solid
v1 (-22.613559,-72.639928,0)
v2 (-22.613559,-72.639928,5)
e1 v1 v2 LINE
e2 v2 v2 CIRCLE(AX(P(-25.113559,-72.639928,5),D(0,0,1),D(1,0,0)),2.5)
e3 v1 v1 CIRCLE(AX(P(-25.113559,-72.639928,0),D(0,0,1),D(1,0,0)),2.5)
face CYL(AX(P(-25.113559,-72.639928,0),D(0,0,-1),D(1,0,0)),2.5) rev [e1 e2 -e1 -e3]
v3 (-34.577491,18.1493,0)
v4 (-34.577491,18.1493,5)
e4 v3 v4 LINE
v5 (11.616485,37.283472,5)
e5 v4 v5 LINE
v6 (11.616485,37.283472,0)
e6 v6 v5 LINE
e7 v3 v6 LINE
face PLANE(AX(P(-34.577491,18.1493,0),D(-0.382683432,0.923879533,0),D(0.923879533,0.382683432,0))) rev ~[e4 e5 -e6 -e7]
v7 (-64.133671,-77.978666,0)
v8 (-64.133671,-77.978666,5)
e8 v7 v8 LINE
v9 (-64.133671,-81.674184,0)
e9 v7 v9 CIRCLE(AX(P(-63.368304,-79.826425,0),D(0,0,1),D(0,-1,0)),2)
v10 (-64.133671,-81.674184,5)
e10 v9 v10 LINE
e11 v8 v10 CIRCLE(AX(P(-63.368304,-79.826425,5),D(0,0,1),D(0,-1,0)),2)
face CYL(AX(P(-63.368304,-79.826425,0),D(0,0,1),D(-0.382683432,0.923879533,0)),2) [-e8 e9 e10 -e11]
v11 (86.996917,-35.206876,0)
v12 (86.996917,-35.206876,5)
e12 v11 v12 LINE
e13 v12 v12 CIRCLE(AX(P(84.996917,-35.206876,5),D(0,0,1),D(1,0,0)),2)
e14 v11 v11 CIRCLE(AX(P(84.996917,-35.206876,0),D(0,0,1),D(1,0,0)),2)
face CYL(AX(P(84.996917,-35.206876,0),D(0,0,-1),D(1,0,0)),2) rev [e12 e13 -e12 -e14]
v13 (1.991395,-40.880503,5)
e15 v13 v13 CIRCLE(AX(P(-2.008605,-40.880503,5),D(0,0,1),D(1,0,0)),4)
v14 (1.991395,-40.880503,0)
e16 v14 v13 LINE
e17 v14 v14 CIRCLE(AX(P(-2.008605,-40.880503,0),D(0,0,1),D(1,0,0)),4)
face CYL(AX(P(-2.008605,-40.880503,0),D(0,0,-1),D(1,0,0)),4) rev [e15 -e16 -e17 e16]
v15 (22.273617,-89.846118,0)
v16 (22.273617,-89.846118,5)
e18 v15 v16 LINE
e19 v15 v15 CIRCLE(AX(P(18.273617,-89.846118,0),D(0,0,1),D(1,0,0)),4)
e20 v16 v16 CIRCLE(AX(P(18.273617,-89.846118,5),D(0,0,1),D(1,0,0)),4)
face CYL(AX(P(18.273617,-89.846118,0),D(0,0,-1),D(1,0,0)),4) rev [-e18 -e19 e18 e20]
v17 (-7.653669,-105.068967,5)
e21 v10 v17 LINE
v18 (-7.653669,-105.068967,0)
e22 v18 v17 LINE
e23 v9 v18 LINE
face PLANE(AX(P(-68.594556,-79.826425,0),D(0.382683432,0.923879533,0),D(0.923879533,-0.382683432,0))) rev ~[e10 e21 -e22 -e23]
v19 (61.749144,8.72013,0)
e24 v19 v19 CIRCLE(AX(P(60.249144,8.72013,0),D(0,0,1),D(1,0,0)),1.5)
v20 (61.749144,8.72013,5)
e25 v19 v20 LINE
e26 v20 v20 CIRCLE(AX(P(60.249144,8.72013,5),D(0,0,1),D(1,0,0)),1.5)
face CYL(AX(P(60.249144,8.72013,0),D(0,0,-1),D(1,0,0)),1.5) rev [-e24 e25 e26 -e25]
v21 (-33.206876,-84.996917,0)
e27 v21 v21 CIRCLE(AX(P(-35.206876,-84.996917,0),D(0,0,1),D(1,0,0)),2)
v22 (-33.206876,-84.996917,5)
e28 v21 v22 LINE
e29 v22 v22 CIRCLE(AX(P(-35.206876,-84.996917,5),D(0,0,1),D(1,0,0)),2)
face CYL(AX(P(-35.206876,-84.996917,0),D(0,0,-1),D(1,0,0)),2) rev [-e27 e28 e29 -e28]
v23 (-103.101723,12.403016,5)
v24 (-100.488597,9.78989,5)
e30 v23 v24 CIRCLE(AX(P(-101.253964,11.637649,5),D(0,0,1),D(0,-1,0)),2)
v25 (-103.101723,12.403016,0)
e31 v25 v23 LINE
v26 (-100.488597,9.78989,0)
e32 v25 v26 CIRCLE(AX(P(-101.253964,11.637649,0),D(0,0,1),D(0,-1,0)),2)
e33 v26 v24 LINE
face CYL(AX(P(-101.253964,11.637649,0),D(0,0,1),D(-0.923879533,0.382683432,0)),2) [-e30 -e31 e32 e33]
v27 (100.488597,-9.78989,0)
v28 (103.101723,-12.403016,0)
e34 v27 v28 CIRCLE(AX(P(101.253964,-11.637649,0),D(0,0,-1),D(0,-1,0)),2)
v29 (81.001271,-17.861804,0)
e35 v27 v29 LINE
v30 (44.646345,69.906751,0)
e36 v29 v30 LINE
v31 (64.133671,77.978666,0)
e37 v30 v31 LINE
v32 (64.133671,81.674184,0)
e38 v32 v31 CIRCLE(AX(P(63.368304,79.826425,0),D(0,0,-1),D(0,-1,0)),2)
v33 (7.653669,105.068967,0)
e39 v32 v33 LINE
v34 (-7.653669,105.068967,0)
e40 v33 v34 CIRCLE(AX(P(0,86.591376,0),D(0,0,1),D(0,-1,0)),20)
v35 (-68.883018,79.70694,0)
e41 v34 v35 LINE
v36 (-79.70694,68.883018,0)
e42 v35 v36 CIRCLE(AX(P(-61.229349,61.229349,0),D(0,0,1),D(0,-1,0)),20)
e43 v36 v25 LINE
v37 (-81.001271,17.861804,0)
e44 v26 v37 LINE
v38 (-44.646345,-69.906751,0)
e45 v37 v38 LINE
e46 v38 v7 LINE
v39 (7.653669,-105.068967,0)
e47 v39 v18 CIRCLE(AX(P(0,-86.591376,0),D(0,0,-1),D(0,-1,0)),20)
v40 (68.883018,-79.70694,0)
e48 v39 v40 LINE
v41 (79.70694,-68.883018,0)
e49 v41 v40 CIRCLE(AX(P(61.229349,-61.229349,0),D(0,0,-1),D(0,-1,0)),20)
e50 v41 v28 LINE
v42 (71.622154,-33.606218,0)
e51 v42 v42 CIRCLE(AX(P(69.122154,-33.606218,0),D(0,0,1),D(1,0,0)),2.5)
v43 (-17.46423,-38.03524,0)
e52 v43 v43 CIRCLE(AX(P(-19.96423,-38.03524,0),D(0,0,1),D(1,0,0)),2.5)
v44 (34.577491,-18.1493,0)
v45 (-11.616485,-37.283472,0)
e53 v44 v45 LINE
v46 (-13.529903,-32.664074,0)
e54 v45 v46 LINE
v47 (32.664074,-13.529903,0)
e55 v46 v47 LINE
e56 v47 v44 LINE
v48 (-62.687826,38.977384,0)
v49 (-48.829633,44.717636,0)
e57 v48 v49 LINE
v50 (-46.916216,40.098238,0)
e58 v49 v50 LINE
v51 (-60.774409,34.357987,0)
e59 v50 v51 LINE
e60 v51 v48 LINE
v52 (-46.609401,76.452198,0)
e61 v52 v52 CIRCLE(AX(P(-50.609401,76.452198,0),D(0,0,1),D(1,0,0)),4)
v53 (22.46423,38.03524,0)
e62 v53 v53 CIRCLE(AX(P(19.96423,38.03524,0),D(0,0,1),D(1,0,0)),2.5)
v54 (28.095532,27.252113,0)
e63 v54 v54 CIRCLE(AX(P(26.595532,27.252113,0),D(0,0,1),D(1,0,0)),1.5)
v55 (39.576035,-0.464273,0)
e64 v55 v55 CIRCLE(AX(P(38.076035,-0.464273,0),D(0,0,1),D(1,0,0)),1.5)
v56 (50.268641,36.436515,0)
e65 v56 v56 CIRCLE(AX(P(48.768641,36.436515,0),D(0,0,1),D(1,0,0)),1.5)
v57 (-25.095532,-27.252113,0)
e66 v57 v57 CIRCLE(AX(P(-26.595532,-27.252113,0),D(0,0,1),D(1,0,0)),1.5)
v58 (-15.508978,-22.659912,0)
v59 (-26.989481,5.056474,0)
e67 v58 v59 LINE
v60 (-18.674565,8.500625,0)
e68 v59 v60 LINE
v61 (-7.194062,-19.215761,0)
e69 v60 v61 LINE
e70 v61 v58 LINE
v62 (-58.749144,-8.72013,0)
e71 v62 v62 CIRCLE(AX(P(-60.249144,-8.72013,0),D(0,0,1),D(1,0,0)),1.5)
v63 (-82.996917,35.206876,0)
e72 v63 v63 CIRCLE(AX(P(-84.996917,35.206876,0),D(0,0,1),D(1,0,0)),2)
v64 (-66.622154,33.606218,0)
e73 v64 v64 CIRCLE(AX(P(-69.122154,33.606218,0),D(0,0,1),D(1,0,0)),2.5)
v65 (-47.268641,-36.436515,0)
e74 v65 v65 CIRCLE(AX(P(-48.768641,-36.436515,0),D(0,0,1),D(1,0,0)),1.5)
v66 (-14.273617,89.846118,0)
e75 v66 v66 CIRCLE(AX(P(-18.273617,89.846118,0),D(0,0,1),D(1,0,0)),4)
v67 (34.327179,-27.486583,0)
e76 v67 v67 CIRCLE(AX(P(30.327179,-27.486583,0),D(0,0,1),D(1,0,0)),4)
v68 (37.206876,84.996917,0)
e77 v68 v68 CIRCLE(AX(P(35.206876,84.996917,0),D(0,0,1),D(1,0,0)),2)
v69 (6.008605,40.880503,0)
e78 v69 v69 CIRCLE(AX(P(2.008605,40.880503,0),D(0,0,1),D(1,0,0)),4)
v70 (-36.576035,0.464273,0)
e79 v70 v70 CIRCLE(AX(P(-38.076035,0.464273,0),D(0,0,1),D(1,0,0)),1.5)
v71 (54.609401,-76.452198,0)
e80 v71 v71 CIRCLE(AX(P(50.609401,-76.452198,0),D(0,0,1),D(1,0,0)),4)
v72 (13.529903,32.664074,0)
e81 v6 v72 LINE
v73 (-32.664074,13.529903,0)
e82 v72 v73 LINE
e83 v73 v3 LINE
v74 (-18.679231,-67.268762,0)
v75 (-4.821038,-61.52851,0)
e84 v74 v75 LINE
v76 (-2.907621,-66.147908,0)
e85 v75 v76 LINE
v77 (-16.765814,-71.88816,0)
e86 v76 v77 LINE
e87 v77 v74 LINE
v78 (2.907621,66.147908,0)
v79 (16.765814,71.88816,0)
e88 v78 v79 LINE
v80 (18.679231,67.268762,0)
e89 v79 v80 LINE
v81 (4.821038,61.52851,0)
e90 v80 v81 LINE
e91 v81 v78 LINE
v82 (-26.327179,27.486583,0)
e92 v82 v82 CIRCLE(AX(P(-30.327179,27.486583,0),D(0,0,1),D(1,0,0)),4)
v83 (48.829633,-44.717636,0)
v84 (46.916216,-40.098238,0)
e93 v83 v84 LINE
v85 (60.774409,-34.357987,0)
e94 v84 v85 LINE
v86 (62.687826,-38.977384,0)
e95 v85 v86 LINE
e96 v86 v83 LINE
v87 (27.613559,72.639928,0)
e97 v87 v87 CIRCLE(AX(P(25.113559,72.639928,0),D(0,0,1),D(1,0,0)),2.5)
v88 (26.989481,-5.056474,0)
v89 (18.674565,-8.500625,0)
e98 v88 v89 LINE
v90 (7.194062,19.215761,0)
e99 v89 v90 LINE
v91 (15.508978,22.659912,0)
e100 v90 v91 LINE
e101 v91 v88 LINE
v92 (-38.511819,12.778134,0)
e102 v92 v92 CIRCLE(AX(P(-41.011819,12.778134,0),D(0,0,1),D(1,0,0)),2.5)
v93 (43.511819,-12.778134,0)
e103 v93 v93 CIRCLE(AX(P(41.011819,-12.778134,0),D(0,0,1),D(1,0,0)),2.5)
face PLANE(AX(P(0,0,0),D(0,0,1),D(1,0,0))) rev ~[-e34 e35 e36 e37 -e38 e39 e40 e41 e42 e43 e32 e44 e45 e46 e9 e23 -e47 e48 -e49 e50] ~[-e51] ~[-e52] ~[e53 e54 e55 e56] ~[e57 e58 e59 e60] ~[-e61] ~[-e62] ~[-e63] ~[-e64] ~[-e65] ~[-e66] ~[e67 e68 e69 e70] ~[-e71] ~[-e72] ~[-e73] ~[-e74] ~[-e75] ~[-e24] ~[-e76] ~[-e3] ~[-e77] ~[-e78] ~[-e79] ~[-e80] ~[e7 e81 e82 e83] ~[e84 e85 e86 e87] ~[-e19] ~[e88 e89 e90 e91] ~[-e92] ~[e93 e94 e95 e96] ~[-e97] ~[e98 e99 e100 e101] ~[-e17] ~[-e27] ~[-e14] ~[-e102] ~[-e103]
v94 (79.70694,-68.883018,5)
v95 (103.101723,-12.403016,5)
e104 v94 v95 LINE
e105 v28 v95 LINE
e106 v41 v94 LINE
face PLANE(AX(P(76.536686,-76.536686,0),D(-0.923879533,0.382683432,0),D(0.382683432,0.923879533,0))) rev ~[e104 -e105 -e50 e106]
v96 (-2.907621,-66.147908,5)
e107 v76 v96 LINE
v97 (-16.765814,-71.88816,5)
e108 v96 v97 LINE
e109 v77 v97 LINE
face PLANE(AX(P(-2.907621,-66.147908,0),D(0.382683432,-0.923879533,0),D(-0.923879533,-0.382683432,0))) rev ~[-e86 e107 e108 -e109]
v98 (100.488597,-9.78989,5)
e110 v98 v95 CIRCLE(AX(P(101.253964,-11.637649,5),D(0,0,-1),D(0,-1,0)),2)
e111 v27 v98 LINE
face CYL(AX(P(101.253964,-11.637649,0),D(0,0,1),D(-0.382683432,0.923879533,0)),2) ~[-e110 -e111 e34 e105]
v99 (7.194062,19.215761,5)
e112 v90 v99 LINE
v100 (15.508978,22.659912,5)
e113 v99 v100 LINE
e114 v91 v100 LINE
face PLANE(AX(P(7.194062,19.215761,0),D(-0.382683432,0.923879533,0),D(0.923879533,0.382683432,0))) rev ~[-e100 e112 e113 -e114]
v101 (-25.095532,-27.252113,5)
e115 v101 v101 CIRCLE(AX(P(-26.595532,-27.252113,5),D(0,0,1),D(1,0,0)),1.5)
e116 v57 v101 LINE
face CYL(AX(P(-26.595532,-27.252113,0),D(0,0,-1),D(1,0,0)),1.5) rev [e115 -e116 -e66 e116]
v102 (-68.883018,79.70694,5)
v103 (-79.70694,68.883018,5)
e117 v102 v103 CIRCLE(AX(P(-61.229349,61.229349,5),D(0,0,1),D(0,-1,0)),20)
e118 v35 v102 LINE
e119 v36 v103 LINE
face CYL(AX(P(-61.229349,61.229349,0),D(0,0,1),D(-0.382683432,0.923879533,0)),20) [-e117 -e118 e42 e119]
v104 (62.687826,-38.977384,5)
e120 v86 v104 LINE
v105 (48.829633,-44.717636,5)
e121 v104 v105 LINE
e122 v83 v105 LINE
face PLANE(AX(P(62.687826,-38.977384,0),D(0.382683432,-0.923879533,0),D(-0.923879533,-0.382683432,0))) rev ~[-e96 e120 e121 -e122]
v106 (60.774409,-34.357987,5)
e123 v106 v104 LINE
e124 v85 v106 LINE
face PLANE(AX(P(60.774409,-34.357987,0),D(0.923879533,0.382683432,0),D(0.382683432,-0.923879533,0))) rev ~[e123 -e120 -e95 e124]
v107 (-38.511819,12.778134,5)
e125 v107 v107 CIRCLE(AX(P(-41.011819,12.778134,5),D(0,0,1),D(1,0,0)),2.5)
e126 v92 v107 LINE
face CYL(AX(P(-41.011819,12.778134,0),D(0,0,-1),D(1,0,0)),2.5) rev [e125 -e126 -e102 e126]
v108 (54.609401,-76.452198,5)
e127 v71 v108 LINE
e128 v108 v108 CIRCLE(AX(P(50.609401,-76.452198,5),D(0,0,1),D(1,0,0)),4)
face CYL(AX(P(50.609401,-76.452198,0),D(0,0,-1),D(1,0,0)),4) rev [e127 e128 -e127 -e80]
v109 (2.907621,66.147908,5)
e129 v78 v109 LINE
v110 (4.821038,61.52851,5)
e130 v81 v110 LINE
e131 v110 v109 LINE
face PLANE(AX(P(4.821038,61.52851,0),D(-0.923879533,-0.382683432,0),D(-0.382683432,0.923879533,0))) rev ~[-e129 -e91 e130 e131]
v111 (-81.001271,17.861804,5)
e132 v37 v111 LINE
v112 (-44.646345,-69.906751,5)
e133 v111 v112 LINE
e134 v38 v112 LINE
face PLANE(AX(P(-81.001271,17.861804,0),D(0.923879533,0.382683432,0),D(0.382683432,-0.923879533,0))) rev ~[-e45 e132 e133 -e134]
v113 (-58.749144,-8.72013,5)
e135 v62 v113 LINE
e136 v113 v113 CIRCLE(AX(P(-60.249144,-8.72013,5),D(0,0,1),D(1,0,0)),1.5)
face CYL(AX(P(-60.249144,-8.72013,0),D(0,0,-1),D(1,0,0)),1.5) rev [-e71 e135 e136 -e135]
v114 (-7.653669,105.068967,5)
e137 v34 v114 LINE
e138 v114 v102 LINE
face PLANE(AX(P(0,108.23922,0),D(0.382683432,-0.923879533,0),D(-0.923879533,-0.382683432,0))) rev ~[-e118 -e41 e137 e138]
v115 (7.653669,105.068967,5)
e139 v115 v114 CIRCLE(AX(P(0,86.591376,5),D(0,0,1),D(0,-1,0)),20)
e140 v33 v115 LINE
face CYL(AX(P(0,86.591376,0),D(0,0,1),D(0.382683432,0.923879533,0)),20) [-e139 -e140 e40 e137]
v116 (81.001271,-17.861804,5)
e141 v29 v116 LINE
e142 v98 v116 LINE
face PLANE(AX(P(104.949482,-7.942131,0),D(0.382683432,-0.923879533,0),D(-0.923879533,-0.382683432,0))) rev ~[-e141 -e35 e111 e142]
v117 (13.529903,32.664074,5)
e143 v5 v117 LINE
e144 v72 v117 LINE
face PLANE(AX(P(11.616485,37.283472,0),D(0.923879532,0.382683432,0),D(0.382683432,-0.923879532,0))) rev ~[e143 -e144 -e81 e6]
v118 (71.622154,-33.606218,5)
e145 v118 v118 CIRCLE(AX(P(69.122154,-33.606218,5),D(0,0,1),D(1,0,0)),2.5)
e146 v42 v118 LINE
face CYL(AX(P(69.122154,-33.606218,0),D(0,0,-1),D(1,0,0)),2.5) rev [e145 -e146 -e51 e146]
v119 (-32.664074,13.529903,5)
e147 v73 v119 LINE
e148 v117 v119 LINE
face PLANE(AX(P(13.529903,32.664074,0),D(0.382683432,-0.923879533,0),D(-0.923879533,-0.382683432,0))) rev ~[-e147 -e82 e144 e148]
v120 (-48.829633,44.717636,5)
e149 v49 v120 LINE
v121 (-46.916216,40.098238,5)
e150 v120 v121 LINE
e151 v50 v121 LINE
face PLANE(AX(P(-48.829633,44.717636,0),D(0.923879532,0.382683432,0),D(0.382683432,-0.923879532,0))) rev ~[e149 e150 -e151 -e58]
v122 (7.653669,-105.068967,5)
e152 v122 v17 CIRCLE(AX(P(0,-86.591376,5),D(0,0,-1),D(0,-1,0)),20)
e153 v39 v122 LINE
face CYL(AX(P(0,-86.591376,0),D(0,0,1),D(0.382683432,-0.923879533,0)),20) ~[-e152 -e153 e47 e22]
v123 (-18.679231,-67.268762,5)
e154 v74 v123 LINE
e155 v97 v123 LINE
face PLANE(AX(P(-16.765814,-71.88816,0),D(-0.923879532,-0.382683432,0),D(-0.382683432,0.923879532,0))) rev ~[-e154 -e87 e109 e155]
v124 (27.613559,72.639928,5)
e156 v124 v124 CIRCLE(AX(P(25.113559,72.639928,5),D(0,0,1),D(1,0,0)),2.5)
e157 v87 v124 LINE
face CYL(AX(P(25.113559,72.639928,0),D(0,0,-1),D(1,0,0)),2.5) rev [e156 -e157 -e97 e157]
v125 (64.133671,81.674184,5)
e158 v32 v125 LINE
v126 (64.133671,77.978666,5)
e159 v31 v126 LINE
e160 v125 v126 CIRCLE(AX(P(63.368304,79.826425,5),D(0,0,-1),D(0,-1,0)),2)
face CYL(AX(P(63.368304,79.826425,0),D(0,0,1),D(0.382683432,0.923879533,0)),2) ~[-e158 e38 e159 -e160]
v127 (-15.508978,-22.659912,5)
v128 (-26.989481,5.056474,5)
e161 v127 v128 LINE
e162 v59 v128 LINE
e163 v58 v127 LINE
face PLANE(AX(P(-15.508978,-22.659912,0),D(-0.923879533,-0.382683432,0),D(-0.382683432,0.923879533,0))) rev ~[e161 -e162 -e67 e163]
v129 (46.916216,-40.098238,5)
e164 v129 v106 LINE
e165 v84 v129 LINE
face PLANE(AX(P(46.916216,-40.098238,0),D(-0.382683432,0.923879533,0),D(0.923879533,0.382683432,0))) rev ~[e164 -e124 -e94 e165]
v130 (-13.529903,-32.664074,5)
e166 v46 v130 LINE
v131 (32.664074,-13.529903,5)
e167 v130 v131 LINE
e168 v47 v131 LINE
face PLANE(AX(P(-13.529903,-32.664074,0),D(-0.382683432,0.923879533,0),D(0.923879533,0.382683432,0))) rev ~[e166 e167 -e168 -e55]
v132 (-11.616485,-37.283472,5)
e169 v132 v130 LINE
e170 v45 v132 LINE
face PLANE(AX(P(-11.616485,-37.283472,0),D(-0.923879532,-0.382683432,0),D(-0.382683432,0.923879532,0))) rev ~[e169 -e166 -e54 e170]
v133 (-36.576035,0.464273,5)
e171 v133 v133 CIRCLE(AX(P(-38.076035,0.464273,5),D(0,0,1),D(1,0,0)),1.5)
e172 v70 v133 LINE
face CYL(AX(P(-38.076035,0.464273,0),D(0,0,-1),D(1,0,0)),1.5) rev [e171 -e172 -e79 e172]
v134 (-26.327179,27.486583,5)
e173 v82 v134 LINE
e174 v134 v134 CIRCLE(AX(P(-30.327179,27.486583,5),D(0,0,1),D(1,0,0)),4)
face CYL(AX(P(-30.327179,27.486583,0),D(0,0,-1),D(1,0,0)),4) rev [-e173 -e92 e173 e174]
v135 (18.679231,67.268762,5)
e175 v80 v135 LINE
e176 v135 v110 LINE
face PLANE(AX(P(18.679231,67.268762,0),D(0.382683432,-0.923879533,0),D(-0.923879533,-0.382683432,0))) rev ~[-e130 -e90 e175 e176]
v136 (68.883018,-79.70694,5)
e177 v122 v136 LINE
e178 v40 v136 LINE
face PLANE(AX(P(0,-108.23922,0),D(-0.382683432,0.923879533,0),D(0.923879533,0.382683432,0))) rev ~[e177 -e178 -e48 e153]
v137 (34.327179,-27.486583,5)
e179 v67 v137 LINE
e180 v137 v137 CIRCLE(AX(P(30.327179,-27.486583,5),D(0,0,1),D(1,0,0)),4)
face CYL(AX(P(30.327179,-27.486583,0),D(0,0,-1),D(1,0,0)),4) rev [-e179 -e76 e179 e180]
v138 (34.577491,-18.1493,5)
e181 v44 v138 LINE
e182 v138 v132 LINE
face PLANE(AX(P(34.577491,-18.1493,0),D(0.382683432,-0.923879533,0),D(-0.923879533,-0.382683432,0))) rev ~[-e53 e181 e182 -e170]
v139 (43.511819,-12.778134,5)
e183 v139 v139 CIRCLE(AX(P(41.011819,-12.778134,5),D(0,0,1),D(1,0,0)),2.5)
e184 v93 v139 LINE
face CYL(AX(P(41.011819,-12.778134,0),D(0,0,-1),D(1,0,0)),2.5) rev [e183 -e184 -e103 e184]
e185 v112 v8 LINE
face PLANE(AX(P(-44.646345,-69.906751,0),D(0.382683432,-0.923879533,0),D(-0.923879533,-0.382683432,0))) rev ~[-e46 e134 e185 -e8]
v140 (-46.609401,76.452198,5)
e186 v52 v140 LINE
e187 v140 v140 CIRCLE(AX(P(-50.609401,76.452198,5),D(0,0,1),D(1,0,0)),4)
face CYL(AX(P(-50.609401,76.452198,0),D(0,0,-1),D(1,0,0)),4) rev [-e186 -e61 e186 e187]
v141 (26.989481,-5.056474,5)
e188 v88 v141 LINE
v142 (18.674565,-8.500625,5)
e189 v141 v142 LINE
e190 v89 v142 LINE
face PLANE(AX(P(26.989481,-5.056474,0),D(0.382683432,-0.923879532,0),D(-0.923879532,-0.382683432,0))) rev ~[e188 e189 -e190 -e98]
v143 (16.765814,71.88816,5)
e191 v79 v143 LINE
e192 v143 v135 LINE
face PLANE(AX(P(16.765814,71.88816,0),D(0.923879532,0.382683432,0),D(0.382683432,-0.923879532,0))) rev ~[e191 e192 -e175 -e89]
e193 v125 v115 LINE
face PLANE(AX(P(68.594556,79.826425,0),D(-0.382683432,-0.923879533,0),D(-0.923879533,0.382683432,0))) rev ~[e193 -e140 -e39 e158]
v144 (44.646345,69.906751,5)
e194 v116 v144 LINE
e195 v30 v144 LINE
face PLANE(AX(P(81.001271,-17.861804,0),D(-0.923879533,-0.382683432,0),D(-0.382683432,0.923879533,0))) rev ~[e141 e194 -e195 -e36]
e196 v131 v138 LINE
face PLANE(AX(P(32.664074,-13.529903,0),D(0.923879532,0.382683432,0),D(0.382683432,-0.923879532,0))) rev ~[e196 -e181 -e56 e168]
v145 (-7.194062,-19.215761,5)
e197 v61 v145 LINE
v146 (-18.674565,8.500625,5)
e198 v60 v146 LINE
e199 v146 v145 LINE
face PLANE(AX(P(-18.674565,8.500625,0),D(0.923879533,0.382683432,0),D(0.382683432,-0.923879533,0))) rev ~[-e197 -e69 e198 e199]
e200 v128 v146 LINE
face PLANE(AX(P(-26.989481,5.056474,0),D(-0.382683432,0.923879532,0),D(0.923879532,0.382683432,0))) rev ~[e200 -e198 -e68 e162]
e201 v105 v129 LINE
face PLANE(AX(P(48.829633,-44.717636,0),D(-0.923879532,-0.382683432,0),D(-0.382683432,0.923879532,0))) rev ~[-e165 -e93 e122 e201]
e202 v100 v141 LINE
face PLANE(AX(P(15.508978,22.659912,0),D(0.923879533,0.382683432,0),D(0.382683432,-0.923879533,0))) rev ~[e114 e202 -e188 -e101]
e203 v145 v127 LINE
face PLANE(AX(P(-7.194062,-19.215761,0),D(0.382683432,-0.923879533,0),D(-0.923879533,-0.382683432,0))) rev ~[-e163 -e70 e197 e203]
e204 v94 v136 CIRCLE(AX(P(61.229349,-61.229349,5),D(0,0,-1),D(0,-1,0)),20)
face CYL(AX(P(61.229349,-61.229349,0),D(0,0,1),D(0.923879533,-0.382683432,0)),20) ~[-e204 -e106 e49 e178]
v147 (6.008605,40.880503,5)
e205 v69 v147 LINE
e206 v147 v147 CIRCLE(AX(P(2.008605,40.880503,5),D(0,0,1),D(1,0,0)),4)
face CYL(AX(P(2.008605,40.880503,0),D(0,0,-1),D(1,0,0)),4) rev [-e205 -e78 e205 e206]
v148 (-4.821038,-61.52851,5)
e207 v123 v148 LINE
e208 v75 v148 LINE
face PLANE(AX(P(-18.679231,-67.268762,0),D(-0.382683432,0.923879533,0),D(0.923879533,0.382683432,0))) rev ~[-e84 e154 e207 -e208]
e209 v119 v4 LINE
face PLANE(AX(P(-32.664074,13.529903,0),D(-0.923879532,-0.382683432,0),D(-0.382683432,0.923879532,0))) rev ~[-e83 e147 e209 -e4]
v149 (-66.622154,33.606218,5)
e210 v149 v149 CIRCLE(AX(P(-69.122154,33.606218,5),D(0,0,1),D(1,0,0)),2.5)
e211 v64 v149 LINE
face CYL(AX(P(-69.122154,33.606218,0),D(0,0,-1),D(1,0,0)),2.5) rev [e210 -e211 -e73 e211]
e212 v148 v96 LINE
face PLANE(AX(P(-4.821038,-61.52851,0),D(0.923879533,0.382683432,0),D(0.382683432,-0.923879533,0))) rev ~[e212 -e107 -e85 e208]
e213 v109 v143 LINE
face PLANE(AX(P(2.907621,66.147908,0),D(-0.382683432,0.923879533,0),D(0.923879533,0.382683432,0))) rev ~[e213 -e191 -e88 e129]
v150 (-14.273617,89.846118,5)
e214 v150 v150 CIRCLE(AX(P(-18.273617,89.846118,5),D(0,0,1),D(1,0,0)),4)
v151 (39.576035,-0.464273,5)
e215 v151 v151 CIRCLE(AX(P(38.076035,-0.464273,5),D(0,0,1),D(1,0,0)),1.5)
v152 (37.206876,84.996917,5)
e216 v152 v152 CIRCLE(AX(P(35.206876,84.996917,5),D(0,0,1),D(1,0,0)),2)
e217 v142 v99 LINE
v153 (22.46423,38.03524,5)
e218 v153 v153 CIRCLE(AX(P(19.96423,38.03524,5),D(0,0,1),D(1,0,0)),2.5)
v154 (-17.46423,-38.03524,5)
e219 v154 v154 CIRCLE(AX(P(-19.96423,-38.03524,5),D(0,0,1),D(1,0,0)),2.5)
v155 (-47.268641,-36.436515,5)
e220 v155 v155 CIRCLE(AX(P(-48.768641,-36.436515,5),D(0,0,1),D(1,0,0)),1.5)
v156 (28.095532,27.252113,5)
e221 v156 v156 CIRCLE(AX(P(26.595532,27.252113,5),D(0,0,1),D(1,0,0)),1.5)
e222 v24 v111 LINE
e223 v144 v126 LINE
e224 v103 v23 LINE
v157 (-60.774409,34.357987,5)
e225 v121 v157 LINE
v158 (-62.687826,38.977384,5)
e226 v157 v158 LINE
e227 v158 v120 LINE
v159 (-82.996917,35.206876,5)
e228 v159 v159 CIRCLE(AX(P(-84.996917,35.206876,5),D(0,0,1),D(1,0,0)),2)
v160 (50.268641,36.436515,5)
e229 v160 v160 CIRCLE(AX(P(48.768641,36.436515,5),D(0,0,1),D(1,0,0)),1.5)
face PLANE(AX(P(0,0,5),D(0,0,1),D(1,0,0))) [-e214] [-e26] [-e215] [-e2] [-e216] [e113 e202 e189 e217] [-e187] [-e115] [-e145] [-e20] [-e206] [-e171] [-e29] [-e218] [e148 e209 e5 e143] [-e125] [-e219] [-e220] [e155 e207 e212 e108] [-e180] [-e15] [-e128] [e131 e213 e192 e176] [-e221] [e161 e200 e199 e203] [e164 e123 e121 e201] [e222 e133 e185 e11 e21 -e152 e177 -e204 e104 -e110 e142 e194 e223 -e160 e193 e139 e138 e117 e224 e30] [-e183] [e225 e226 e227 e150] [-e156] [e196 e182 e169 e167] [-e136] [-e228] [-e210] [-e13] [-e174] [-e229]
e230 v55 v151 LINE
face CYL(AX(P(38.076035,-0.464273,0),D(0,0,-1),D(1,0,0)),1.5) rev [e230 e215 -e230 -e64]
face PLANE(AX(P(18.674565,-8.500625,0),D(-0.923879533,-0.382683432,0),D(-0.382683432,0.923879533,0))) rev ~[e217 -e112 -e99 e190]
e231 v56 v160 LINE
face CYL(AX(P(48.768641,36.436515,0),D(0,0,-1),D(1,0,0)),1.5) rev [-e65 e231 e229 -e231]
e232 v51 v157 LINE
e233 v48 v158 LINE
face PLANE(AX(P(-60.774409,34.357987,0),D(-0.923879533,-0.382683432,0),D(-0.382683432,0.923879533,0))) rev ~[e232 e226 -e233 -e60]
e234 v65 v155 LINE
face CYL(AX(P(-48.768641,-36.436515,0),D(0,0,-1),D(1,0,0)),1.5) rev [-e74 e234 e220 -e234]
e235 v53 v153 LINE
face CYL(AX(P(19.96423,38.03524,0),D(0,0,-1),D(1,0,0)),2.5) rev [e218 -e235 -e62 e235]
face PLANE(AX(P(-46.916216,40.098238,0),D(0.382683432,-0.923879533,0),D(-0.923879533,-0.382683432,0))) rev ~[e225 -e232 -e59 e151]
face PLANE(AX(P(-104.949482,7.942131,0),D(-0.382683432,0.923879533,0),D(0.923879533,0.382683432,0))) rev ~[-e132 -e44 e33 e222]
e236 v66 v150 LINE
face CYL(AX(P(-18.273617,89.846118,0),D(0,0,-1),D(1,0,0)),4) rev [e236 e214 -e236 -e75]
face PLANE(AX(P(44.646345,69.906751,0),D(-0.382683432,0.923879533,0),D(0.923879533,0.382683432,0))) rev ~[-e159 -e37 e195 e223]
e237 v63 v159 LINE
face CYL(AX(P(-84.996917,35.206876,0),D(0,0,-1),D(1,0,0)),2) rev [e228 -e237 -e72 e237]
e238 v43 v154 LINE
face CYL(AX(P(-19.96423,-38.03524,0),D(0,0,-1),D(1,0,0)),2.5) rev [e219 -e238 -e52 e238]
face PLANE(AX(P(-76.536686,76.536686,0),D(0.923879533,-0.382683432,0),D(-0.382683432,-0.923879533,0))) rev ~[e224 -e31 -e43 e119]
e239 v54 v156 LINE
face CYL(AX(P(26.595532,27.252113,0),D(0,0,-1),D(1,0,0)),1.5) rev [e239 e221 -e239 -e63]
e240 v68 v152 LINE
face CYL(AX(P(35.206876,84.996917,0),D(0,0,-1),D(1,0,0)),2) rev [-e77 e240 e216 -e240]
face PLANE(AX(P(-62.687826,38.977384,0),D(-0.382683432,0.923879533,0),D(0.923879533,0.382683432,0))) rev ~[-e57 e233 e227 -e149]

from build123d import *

# Parameters (mm, degrees)
SKETCH_1_R      = 2
SKETCH_1_R_2    = 2.5
SKETCH_1_R_3    = 1.5
SKETCH_1_R_4    = 4
EXTRUDE_1_DEPTH = 5
FILLET_1_R      = 2
FILLET_2_R      = 20


with BuildPart() as part:
    # 草图1 → 凸台-拉伸1 (new body)
    with BuildSketch(Plane.XY):
        Polygon((68.594555656, 79.826424772), (0, 108.239220029), (-76.536686473, 76.536686473), (-104.949481731, 7.942130817), (-81.001271248, 17.861804393), (-44.646345173, -69.906751195), (-68.594555656, -79.826424772), (0, -108.239220029), (76.536686473, -76.536686473), (104.949481731, -7.942130817), (81.001271248, -17.861804393), (44.646345173, 69.906751195), align=None)
        with Locations((-35.206875778, -84.996916991)):
            Circle(SKETCH_1_R, mode=Mode.SUBTRACT)
        with Locations((-25.113558797, -72.63992817)):
            Circle(SKETCH_1_R_2, mode=Mode.SUBTRACT)
        Polygon((-16.765813956, -71.888159542), (-18.679231118, -67.26876188), (-4.82103813, -61.528510394), (-2.907620968, -66.147908057), align=None, mode=Mode.SUBTRACT)
        with Locations((-60.249143904, -8.720129522)):
            Circle(SKETCH_1_R_3, mode=Mode.SUBTRACT)
        with Locations((-48.768640933, -36.436515497)):
            Circle(SKETCH_1_R_3, mode=Mode.SUBTRACT)
        with Locations((-2.008604821, -40.880502769)):
            Circle(SKETCH_1_R_4, mode=Mode.SUBTRACT)
        with Locations((-19.964230183, -38.035240412)):
            Circle(SKETCH_1_R_2, mode=Mode.SUBTRACT)
        with Locations((-26.595532152, -27.25211312)):
            Circle(SKETCH_1_R_3, mode=Mode.SUBTRACT)
        Polygon((-15.508977762, -22.659911932), (-26.989480733, 5.056474043), (-18.674564941, 8.500624935), (-7.19406197, -19.215761041), align=None, mode=Mode.SUBTRACT)
        with Locations((18.273617094, -89.846117992)):
            Circle(SKETCH_1_R_4, mode=Mode.SUBTRACT)
        with Locations((50.609400732, -76.45219786)):
            Circle(SKETCH_1_R_4, mode=Mode.SUBTRACT)
        with Locations((30.327178816, -27.486582637)):
            Circle(SKETCH_1_R_4, mode=Mode.SUBTRACT)
        Polygon((48.829632852, -44.717635844), (46.91621569, -40.098238182), (60.774408678, -34.357986696), (62.68782584, -38.977384359), align=None, mode=Mode.SUBTRACT)
        Polygon((-11.616485342, -37.283471784), (-13.529902504, -32.664074122), (32.664074122, -13.529902504), (34.577491284, -18.149300166), align=None, mode=Mode.SUBTRACT)
        with Locations((41.011818963, -12.778133876)):
            Circle(SKETCH_1_R_2, mode=Mode.SUBTRACT)
        with Locations((38.076035123, -0.464272855)):
            Circle(SKETCH_1_R_3, mode=Mode.SUBTRACT)
        with Locations((69.122153519, -33.606218069)):
            Circle(SKETCH_1_R_2, mode=Mode.SUBTRACT)
        with Locations((84.996916991, -35.206875778)):
            Circle(SKETCH_1_R, mode=Mode.SUBTRACT)
        with Locations((-84.996916991, 35.206875778)):
            Circle(SKETCH_1_R, mode=Mode.SUBTRACT)
        with Locations((-69.122153519, 33.606218069)):
            Circle(SKETCH_1_R_2, mode=Mode.SUBTRACT)
        with Locations((-38.076035123, 0.464272855)):
            Circle(SKETCH_1_R_3, mode=Mode.SUBTRACT)
        with Locations((-41.011818963, 12.778133876)):
            Circle(SKETCH_1_R_2, mode=Mode.SUBTRACT)
        Polygon((13.529902504, 32.664074122), (-32.664074122, 13.529902504), (-34.577491284, 18.149300166), (11.616485342, 37.283471784), align=None, mode=Mode.SUBTRACT)
        Polygon((-46.91621569, 40.098238182), (-60.774408678, 34.357986696), (-62.68782584, 38.977384359), (-48.829632852, 44.717635844), align=None, mode=Mode.SUBTRACT)
        with Locations((-30.327178816, 27.486582637)):
            Circle(SKETCH_1_R_4, mode=Mode.SUBTRACT)
        with Locations((-50.609400732, 76.45219786)):
            Circle(SKETCH_1_R_4, mode=Mode.SUBTRACT)
        with Locations((-18.273617094, 89.846117992)):
            Circle(SKETCH_1_R_4, mode=Mode.SUBTRACT)
        Polygon((18.674564941, -8.500624935), (7.19406197, 19.215761041), (15.508977762, 22.659911932), (26.989480733, -5.056474043), align=None, mode=Mode.SUBTRACT)
        with Locations((26.595532152, 27.25211312)):
            Circle(SKETCH_1_R_3, mode=Mode.SUBTRACT)
        with Locations((19.964230183, 38.035240412)):
            Circle(SKETCH_1_R_2, mode=Mode.SUBTRACT)
        with Locations((2.008604821, 40.880502769)):
            Circle(SKETCH_1_R_4, mode=Mode.SUBTRACT)
        with Locations((48.768640933, 36.436515497)):
            Circle(SKETCH_1_R_3, mode=Mode.SUBTRACT)
        with Locations((60.249143904, 8.720129522)):
            Circle(SKETCH_1_R_3, mode=Mode.SUBTRACT)
        Polygon((4.82103813, 61.528510394), (2.907620968, 66.147908057), (16.765813956, 71.888159542), (18.679231118, 67.26876188), align=None, mode=Mode.SUBTRACT)
        with Locations((25.113558797, 72.63992817)):
            Circle(SKETCH_1_R_2, mode=Mode.SUBTRACT)
        with Locations((35.206875778, 84.996916991)):
            Circle(SKETCH_1_R, mode=Mode.SUBTRACT)
    extrude(amount=EXTRUDE_1_DEPTH)

    # 圆角1
    fillet_1_edges = [part.edges().sort_by_distance(p)[0] for p in [
        (104.949481731, -7.942130817, 2.5),
        (-68.594555656, -79.826424772, 2.5),
        (-104.949481731, 7.942130817, 2.5),
        (68.594555656, 79.826424772, 2.5),
    ]]
    fillet(fillet_1_edges, radius=FILLET_1_R)

    # 圆角2
    fillet_2_edges = [part.edges().sort_by_distance(p)[0] for p in [
        (76.536686473, -76.536686473, 2.5),
        (0, -108.239220029, 2.5),
        (-76.536686473, 76.536686473, 2.5),
        (0, 108.239220029, 2.5),
    ]]
    fillet(fillet_2_edges, radius=FILLET_2_R)


solid = part.part
